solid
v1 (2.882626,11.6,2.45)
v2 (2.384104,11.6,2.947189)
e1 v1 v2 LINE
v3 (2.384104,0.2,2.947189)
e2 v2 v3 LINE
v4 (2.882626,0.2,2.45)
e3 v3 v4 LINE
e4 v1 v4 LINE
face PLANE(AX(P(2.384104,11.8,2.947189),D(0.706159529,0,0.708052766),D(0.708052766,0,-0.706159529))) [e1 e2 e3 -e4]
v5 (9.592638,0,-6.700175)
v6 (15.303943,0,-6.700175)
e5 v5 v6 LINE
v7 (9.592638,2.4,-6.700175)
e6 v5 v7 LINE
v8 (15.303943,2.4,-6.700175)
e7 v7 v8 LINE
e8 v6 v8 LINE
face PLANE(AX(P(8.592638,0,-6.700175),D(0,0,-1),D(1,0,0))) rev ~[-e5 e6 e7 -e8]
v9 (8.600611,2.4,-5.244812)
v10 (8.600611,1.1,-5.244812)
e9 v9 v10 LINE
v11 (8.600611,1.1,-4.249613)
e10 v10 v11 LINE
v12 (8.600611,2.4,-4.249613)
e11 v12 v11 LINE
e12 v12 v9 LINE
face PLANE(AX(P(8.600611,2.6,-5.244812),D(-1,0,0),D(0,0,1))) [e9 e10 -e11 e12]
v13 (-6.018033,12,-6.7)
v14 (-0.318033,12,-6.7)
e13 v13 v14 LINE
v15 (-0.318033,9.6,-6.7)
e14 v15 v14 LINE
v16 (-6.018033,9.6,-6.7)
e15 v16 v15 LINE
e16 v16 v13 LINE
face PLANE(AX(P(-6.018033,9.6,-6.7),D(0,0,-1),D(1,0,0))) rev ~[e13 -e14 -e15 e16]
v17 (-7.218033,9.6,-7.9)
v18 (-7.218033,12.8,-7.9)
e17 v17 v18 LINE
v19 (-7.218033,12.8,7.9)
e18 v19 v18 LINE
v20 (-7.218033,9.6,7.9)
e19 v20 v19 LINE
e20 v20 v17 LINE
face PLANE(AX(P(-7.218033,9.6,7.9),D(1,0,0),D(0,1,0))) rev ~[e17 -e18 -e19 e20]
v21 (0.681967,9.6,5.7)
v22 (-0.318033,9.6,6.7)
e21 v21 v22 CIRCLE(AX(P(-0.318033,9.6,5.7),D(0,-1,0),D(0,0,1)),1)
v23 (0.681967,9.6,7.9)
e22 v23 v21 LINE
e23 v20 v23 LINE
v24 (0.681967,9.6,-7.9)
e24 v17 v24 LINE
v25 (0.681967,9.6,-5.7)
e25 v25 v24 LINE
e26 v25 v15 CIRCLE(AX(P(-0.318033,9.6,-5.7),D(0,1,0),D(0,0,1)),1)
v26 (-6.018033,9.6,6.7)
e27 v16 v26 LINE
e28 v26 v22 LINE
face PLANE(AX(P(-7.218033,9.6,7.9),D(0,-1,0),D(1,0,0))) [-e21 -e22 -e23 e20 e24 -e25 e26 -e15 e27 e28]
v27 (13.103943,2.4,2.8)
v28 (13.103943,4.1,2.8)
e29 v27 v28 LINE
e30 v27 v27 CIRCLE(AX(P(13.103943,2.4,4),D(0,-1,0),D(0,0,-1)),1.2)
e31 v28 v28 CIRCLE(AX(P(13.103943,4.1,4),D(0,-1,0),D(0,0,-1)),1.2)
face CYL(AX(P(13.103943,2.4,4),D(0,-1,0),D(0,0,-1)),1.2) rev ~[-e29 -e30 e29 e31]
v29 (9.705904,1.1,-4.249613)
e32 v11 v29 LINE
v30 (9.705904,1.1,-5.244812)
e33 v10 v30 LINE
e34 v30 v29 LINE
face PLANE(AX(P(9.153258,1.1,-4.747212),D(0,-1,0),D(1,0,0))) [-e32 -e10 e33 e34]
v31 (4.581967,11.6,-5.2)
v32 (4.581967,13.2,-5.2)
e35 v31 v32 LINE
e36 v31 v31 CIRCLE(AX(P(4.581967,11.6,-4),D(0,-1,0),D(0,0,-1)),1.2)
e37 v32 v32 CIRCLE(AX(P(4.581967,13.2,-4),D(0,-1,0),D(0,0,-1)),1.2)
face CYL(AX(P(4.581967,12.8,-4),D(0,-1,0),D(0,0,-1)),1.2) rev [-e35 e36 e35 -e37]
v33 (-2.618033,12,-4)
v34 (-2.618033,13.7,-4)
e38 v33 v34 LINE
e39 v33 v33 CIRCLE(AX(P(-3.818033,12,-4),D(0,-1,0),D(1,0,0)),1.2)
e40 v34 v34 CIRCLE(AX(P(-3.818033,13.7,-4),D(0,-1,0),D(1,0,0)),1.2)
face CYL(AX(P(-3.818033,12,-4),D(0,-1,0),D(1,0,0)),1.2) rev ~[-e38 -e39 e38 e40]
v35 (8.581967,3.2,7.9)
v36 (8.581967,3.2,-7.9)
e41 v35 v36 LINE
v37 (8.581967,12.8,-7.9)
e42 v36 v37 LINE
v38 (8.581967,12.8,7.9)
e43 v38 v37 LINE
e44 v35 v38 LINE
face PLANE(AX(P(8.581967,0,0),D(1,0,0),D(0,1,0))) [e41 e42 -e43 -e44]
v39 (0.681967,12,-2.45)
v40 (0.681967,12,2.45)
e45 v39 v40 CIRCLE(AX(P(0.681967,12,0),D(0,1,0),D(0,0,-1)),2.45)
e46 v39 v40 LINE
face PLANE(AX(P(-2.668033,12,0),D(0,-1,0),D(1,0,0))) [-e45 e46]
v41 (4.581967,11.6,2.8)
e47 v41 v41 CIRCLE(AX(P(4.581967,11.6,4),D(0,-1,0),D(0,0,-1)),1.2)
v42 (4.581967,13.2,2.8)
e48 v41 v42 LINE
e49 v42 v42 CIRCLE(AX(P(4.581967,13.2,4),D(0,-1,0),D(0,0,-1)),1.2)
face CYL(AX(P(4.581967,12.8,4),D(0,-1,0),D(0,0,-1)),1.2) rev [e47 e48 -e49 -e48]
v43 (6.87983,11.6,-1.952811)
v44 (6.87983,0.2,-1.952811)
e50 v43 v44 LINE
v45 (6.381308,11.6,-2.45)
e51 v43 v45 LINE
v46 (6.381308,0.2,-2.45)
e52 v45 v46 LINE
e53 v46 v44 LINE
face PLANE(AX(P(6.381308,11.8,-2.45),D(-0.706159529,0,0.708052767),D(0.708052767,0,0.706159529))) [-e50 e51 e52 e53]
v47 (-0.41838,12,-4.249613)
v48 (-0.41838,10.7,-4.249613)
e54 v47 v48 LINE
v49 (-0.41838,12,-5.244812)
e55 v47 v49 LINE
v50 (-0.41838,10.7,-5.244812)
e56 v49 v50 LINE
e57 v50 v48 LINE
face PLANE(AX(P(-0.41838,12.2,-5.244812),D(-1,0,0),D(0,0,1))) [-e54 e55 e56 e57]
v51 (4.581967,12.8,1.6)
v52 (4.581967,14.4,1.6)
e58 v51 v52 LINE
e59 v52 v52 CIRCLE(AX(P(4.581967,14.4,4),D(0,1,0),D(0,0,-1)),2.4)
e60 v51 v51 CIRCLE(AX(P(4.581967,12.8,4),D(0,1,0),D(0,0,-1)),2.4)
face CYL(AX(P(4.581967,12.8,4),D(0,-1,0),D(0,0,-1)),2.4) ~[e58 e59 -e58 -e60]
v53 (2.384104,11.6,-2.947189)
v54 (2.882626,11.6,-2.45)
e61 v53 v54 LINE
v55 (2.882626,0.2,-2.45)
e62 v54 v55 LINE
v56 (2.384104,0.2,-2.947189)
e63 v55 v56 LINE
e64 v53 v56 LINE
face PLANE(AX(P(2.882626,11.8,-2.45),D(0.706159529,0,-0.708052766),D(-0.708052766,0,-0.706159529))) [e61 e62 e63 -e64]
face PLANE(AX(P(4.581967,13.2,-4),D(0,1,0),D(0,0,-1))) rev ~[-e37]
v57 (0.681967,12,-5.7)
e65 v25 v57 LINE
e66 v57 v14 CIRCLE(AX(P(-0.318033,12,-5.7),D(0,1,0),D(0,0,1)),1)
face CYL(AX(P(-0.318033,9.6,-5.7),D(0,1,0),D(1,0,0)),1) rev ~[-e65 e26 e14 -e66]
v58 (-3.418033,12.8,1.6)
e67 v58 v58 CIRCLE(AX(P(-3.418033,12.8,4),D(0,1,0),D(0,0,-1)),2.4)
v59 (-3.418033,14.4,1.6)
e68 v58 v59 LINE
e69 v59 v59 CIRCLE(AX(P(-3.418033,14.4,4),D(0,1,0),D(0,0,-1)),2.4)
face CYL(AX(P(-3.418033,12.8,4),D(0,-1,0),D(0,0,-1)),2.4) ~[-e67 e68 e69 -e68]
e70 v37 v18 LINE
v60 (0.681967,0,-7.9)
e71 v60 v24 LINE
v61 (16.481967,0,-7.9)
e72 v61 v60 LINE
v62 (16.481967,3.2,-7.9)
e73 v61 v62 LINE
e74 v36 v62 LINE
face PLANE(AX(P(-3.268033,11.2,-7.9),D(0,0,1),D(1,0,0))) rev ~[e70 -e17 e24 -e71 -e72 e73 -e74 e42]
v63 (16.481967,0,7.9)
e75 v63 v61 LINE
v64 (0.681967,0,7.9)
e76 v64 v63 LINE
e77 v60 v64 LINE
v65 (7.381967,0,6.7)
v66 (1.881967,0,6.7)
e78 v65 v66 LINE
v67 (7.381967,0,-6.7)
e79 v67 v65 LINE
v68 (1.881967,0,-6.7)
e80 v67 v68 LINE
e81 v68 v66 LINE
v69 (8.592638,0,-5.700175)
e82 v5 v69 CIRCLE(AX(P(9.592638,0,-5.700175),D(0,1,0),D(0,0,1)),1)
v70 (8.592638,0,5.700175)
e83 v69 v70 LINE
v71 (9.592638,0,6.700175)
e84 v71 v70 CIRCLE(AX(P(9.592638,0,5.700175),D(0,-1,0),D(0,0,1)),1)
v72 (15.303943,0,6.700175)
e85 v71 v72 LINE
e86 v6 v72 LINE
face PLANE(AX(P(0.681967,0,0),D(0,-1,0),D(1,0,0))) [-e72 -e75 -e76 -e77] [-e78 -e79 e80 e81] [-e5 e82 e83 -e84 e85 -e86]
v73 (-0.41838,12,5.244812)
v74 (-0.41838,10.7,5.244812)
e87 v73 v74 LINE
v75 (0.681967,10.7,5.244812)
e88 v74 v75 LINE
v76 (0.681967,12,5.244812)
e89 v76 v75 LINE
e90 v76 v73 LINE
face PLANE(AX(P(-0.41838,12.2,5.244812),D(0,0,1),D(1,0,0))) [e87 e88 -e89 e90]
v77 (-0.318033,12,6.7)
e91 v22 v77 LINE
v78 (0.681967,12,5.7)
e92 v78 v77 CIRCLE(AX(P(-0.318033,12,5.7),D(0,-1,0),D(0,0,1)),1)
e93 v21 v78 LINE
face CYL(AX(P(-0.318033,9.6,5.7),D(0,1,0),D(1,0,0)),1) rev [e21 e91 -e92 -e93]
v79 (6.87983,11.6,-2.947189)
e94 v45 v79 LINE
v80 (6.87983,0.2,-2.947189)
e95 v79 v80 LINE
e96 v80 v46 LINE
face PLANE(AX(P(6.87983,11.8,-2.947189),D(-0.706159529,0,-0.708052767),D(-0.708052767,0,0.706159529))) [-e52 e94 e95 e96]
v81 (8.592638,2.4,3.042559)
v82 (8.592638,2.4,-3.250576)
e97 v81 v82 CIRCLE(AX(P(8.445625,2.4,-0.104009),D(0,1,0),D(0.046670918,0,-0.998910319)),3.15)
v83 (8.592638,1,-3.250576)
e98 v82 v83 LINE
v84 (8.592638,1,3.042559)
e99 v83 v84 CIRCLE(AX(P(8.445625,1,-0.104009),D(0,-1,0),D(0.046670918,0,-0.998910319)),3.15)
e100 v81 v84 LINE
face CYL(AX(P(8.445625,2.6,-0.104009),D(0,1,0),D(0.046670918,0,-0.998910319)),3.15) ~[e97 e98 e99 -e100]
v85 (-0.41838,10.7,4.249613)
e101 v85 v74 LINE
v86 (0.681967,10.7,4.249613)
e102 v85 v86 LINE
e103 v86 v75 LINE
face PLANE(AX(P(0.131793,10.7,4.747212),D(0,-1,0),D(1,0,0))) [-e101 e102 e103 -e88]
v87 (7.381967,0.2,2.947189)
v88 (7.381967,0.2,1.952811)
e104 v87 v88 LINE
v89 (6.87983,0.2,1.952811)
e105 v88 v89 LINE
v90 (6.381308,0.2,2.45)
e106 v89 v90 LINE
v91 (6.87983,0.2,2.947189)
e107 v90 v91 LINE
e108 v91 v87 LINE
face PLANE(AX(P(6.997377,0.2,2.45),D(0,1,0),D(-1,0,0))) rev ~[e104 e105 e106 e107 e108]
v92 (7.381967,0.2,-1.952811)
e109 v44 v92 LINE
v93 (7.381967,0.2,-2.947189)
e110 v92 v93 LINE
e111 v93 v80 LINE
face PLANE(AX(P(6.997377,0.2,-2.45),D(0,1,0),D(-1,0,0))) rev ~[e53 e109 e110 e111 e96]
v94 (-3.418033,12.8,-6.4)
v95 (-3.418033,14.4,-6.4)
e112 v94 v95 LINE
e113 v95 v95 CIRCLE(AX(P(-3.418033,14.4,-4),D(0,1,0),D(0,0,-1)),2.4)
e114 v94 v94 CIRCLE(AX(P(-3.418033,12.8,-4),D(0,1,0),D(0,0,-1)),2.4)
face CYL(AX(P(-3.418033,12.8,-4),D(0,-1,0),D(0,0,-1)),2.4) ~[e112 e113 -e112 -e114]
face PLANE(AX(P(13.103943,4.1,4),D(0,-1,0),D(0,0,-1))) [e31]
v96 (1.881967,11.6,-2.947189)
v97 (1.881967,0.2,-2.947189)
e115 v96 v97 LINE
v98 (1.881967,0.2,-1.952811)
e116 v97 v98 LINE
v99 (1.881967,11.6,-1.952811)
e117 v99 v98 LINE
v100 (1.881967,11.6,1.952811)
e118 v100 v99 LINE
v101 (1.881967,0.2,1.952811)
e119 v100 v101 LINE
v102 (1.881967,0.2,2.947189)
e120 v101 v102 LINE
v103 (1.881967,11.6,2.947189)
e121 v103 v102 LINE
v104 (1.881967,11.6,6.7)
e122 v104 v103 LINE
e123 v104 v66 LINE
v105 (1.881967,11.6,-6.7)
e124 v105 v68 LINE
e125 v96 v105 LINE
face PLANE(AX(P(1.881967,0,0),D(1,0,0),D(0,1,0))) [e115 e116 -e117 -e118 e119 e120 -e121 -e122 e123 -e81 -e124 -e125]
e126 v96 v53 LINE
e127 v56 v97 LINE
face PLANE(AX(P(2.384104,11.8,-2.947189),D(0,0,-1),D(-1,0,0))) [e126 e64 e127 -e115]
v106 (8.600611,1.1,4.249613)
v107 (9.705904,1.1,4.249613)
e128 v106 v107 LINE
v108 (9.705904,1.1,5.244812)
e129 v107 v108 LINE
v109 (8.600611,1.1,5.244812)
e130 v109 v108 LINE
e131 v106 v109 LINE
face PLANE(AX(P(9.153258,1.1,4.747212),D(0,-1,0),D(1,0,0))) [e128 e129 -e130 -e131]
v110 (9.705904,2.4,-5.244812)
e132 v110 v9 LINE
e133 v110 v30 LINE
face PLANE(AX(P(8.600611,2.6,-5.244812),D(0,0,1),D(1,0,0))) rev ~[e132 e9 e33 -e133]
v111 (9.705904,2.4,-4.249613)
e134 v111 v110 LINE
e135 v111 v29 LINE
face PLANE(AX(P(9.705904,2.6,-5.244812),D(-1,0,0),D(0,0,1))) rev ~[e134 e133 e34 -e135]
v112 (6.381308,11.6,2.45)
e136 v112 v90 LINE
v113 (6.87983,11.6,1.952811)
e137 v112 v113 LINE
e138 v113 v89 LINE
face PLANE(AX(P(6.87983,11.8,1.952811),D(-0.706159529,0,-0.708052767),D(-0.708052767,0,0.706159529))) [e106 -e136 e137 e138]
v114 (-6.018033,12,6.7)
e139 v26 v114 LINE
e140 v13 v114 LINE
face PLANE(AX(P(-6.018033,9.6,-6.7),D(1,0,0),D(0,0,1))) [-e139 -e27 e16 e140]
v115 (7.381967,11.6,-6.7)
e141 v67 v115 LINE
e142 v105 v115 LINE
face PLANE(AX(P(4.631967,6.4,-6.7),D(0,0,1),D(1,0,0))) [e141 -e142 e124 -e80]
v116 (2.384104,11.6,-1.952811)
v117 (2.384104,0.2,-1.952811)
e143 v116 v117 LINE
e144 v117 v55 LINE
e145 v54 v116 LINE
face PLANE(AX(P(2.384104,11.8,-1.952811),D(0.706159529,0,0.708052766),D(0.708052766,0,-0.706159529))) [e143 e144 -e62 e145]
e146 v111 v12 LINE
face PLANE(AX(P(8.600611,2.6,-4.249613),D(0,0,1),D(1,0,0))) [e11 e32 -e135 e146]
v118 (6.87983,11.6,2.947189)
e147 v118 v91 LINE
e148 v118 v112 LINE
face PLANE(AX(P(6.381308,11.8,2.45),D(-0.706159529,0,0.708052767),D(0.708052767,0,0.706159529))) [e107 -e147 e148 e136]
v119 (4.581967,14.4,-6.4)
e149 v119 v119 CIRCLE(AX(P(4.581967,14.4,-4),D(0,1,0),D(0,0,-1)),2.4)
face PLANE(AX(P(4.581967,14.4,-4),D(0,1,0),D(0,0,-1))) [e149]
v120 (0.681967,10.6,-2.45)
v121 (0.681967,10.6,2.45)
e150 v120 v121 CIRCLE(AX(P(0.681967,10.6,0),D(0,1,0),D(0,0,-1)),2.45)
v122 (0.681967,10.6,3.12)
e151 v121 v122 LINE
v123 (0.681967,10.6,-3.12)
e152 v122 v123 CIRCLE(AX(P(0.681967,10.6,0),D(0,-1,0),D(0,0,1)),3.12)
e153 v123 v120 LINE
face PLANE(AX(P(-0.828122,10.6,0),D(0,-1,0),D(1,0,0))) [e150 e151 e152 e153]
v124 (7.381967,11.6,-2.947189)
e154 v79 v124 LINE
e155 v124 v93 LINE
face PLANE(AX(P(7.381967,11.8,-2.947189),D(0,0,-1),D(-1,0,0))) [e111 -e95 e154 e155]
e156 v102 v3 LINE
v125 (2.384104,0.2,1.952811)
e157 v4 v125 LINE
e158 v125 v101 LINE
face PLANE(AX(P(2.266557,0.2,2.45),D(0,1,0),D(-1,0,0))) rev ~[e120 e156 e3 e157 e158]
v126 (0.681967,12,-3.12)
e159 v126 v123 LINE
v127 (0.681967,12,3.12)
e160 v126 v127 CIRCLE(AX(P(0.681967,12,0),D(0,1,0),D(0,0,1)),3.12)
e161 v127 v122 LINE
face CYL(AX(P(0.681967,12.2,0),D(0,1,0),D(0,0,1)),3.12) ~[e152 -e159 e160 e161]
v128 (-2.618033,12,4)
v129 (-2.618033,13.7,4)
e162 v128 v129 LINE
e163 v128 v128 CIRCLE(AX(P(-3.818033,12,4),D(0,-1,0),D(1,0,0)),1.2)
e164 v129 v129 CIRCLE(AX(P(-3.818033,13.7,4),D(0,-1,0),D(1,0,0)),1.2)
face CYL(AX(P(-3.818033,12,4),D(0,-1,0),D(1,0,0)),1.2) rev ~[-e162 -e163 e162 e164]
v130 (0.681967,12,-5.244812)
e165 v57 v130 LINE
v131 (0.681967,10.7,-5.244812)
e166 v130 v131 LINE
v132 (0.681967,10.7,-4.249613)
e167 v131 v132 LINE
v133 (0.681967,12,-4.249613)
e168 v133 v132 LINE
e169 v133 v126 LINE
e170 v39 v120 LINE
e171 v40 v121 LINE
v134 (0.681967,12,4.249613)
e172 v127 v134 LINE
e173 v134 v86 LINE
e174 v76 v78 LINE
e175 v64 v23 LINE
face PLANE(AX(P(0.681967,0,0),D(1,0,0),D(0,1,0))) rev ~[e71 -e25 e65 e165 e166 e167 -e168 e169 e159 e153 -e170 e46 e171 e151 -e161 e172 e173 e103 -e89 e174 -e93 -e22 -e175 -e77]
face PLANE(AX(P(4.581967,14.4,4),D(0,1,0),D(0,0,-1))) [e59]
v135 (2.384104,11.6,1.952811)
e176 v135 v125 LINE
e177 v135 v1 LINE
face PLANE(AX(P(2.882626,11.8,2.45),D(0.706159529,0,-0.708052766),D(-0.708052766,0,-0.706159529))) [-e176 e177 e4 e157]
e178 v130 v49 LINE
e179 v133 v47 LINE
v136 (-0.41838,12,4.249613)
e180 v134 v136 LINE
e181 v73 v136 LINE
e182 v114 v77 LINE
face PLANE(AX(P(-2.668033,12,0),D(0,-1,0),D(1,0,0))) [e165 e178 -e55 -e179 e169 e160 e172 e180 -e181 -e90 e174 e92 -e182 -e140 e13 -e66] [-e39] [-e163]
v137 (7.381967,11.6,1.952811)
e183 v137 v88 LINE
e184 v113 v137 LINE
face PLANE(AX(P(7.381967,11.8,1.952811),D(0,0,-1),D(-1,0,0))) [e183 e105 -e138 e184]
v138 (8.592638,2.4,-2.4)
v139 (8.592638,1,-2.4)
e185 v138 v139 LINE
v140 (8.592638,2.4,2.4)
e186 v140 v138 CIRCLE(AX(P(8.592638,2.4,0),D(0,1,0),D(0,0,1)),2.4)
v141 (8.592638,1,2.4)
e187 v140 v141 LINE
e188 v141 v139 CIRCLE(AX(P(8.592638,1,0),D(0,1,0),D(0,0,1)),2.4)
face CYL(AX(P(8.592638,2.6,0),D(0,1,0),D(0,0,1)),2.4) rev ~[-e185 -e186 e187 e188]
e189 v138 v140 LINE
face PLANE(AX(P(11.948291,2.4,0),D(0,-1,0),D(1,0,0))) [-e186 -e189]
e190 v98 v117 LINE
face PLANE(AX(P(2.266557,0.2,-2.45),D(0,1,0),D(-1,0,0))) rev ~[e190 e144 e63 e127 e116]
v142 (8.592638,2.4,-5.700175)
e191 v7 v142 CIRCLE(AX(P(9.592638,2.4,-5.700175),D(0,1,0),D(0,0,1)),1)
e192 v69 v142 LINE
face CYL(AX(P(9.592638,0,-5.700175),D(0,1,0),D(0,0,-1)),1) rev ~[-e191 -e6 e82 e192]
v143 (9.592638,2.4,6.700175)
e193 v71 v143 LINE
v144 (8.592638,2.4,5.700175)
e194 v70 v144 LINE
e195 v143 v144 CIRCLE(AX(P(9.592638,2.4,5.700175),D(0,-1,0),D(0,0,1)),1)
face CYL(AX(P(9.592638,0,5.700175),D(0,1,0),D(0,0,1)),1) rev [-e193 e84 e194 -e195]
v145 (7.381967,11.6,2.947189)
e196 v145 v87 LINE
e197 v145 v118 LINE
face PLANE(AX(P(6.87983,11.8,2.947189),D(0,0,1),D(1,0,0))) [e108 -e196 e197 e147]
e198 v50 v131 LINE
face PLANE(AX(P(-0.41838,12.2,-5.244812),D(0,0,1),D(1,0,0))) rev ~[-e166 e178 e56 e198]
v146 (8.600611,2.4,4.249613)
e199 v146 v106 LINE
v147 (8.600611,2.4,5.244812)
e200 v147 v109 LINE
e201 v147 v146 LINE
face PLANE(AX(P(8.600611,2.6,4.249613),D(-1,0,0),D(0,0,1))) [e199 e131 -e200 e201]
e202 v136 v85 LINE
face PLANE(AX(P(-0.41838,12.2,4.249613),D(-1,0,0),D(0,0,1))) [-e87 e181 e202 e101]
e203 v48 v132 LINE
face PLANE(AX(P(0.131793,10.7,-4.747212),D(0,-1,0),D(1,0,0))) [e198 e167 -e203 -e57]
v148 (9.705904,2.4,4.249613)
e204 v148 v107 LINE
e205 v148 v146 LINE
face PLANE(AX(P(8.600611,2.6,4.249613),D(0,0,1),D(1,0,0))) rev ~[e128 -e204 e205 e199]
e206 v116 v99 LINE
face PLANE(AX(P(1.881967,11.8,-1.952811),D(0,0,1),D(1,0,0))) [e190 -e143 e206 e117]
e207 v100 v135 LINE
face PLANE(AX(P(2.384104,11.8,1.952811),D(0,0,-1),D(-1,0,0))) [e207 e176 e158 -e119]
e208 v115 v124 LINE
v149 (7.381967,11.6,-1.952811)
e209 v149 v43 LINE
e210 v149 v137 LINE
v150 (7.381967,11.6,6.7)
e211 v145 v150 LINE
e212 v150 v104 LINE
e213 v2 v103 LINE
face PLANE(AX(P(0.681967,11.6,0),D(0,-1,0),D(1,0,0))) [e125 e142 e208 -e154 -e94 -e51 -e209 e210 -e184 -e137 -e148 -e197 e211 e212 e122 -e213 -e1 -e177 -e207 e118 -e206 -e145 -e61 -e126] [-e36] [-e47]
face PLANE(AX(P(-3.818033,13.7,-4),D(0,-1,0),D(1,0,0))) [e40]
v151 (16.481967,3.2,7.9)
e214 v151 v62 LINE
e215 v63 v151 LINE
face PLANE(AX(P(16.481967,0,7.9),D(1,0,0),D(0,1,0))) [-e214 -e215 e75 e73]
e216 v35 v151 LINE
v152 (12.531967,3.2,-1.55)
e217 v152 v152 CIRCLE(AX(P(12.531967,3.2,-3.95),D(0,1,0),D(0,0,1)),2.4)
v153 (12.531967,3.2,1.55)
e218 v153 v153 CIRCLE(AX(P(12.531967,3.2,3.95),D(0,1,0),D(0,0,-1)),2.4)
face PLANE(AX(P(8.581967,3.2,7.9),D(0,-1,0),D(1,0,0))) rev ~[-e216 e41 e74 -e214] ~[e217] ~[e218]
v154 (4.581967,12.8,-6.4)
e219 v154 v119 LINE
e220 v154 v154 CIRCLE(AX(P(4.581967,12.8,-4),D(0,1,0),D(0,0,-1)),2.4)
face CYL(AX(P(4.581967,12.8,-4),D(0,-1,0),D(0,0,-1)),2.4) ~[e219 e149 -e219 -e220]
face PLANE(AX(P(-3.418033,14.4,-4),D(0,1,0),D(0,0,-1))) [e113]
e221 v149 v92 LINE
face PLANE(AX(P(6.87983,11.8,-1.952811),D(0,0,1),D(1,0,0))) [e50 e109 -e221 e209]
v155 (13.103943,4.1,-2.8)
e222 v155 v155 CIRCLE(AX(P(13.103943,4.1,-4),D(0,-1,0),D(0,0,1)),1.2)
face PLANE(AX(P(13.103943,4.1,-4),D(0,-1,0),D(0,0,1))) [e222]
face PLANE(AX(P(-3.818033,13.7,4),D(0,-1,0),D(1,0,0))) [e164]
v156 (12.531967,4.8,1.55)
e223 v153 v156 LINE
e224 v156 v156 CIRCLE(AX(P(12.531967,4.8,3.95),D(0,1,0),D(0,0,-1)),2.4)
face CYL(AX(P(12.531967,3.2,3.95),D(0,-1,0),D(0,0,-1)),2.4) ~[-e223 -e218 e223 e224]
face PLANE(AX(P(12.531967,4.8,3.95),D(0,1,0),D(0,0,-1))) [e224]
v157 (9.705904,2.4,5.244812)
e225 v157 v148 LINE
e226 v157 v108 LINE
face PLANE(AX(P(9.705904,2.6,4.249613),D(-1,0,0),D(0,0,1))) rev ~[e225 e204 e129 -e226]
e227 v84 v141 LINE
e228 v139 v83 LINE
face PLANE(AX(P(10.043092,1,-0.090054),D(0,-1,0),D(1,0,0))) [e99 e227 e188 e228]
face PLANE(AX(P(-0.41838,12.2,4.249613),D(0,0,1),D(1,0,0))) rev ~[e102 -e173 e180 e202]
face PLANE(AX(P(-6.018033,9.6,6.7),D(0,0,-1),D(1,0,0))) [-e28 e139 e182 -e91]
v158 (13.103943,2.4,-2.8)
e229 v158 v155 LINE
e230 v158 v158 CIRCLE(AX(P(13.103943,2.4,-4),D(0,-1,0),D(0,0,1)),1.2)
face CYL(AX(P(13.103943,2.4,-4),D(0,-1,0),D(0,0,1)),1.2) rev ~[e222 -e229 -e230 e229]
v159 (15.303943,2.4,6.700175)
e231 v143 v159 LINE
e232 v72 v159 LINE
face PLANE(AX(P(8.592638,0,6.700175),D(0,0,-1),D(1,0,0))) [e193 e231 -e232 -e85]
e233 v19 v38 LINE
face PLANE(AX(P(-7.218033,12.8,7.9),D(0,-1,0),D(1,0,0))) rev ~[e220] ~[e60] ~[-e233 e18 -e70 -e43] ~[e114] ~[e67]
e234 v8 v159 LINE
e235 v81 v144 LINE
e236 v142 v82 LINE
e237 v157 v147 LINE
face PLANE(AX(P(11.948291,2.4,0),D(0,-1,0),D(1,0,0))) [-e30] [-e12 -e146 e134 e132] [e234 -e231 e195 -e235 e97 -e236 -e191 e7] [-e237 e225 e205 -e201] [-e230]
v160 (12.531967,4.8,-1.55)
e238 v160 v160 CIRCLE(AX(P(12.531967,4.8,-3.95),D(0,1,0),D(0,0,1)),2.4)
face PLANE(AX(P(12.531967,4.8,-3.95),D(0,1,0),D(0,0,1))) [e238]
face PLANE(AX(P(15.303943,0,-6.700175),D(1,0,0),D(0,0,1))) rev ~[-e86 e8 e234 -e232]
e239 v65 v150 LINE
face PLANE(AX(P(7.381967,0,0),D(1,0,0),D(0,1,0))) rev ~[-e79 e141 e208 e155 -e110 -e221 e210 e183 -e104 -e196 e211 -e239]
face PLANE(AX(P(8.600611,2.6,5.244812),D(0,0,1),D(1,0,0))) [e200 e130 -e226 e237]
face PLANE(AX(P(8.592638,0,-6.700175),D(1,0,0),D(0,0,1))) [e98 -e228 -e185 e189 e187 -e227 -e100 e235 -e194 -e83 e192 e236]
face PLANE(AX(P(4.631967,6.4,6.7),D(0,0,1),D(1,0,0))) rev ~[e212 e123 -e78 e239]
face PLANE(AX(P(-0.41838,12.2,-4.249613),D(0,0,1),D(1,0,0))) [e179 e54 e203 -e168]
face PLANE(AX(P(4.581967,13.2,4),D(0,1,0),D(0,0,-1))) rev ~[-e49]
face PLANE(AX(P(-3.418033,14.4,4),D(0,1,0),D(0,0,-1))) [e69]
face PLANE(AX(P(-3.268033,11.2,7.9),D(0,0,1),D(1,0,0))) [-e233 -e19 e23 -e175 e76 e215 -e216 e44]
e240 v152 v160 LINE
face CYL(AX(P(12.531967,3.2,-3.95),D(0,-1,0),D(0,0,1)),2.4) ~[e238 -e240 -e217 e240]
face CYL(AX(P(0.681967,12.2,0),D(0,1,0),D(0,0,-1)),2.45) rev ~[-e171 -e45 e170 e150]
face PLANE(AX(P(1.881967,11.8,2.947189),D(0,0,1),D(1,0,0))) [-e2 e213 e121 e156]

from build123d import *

# Parameters (mm, degrees)
MAINBASESKETCH_W                = 7.9
MAINBASESKETCH_H                = 12.8
MAINBASEEXTRUDE_DEPTH           = 7.9
STUDSSKETCH_R                   = 2.4
STUDSEXTRUDE_DEPTH              = 1.6
STUDSPATTERN_COUNT              = 2
STUDSPATTERN_PITCH              = 8
MAINBASESHELL_T                 = -1.2
SLIMYELLOWUNDEREXT_START        = -0.2
SLIMYELLOWUNDEREXT_DEPTH        = 11.6
ZIGZAGSKETCH_W                  = 7.9
ZIGZAGSKETCH_H                  = 3.2
ZIGZAGBLUEEXT_DEPTH             = 15.8
LPATTERN1_COUNT                 = 2
LPATTERN1_PITCH                 = 8
LPATTERN1_COPY_1_SKETCH_R       = 2.4
LPATTERN1_COPY_1_DEPTH          = 1.6
ZIGZAGSTUDSKETCH_R              = 2.4
ADDEDSTUDSZIGZAG_DEPTH          = 1.6
CUTUSEDASSHELLSKETCH_W          = 6.71130504
CUTUSEDASSHELLSKETCH_H          = 13.400349982
CUTUSEDASSHELL_DEPTH            = 2.4
ZIGZAGUNDERSTUDSSKETCH_R        = 1.2
ZIGZAGUNDERSTUDHOLES_DEPTH      = 1.7
ZIGZAGUNDERSEMICIRCLEEXT_START  = -0.2
ZIGZAGUNDERSEMICIRCLEEXT_DEPTH  = 1.6
CUTUSEDASSHELLSKETCH2_W         = 6.7
CUTUSEDASSHELLSKETCH2_H         = 13.4
CUTUSEDASSHELL2_DEPTH           = 2.4
ZIGZAGUNDERSEMICEXT2_START      = -0.2
ZIGZAGUNDERSEMICEXT2_DEPTH      = 1.6
ZIGZAGINSIDECORNER1_R           = 1
ZIGZAGINSIDECORNER2_R           = 1
ZIGZAGUNDERSTUDSKETCH2_R        = 1.2
CUT_EXTRUDE1_DEPTH              = 1.7
RECTANGULARUNDEREXTRUDES1_START = -0.2
RECTANGULAREXTSKETCH_W          = 1.100347559
RECTANGULAREXTSKETCH_H          = 0.995198726
RECTANGULARUNDEREXTRUDES1_DEPTH = 1.5
RECTANGULARUNDEREXTRUDES2_START = -0.2
RECTANGULARUNDEREXTSKETCH2_W    = 1.105292793
RECTANGULARUNDEREXTSKETCH2_H    = 0.995198726
RECTANGULARUNDEREXTRUDES2_DEPTH = 1.5


with BuildPart() as part:
    # MainBaseSketch → MainBaseExtrude (new, symmetric)
    with BuildSketch(Plane.XY):
        with Locations((4.631967213, 6.4)):
            Rectangle(MAINBASESKETCH_W, MAINBASESKETCH_H)
    extrude(amount=MAINBASEEXTRUDE_DEPTH, both=True)

    # StudsSketch → StudsExtrude (add)
    with BuildSketch(Plane(origin=(0, 12.8, 0), x_dir=(1, 0, 0), z_dir=(0, 1, 0))):
        with Locations(Location((4.581967213, 4, 0), (0, 0, 90))):
            Circle(STUDSSKETCH_R)
    studsextrude = extrude(amount=STUDSEXTRUDE_DEPTH)

    # StudsPattern: StudsExtrude ×2
    with Locations(*[(0, 0, i * STUDSPATTERN_PITCH) for i in range(1, STUDSPATTERN_COUNT)]):
        add(studsextrude)

    # MainBaseShell
    mainbaseshell_openings = [part.faces().sort_by_distance(p)[0] for p in [
        (4.631967213, 0, 0),
    ]]
    offset(amount=MAINBASESHELL_T, openings=mainbaseshell_openings, kind=Kind.INTERSECTION)

    # SlimYellowUnderExtSketch → SlimYellowUnderExt (add)
    with BuildSketch(Plane.XZ.offset(-11.6).offset(SLIMYELLOWUNDEREXT_START)):
        Polygon((1.881967213, 1.952811318), (1.881967213, 2.947188682), (2.384104441, 2.947188682), (2.882626102, 2.45), (2.384104441, 1.952811318), align=None)
        Polygon((6.381308324, 2.45), (6.879829986, 2.947188682), (7.381967213, 2.947188682), (7.381967213, 1.952811318), (6.879829986, 1.952811318), align=None)
        Polygon((1.881967213, -1.952811318), (2.384104441, -1.952811318), (2.882626102, -2.45), (2.384104441, -2.947188682), (1.881967213, -2.947188682), align=None)
        Polygon((7.381967213, -1.952811318), (7.381967213, -2.947188682), (6.879829986, -2.947188682), (6.381308324, -2.45), (6.879829986, -1.952811318), align=None)
    extrude(amount=SLIMYELLOWUNDEREXT_DEPTH)

    # ZigZagSketch → ZIGZAGBlueExt (add)
    with BuildSketch(Plane.XY.offset(7.9)):
        with Locations((-3.268032787, 11.2)):
            Rectangle(ZIGZAGSKETCH_W, ZIGZAGSKETCH_H)
        with Locations((12.531967213, 1.6)):
            Rectangle(ZIGZAGSKETCH_W, ZIGZAGSKETCH_H)
    extrude(amount=-ZIGZAGBLUEEXT_DEPTH)

    # LPattern1: StudsExtrude ×2
    with Locations(*[(-i * LPATTERN1_PITCH, 0, 0) for i in range(1, LPATTERN1_COUNT)]):
        add(studsextrude)

    # LPattern1 copy 1 sketch → LPattern1 copy 1 (add)
    with BuildSketch(Plane(origin=(-8, 12.8, 8), x_dir=(1, 0, 0), z_dir=(0, 1, 0))):
        with Locations(Location((4.581967213, 4, 0), (0, 0, 90))):
            Circle(LPATTERN1_COPY_1_SKETCH_R)
    extrude(amount=LPATTERN1_COPY_1_DEPTH)

    # ZigZagStudSketch → AddedStudsZigZag (add)
    with BuildSketch(Plane(origin=(0, 3.2, 0), x_dir=(1, 0, 0), z_dir=(0, 1, 0))):
        with Locations(Location((12.531967213, 3.95, 0), (0, 0, 270))):
            Circle(ZIGZAGSTUDSKETCH_R)
        with Locations(Location((12.531967213, -3.95, 0), (0, 0, 90))):
            Circle(ZIGZAGSTUDSKETCH_R)
    extrude(amount=ADDEDSTUDSZIGZAG_DEPTH)

    # CutUsedAsShellSketch → CutUsedasShell (cut)
    with BuildSketch(Plane.XZ):
        with Locations((11.948290767, 0)):
            Rectangle(CUTUSEDASSHELLSKETCH_W, CUTUSEDASSHELLSKETCH_H)
    extrude(amount=-CUTUSEDASSHELL_DEPTH, mode=Mode.SUBTRACT)

    # ZigZagUnderStudsSketch → ZigZagUnderStudHoles (cut)
    with BuildSketch(Plane.XZ.offset(-2.4)):
        with Locations(Location((13.103943287, 4, 0), (0, 0, 270))):
            Circle(ZIGZAGUNDERSTUDSSKETCH_R)
        with Locations(Location((13.103943287, -4, 0), (0, 0, 90))):
            Circle(ZIGZAGUNDERSTUDSSKETCH_R)
    extrude(amount=-ZIGZAGUNDERSTUDHOLES_DEPTH, mode=Mode.SUBTRACT)

    # ZigZAgUNderSemiCSketch → ZigZagUnderSemiCircleExt (add)
    with BuildSketch(Plane.XZ.offset(-2.4).offset(ZIGZAGUNDERSEMICIRCLEEXT_START)):
        with BuildLine():
            ThreePointArc((8.592638247, -3.25057639), (11.595624855, -0.104008885), (8.592638247, 3.04255862))
            Line((8.592638247, 3.04255862), (8.592638247, 2.4))
            ThreePointArc((8.592638247, 2.4), (10.992638247, 0), (8.592638247, -2.4))
            Line((8.592638247, -2.4), (8.592638247, -2.40057639))
            Line((8.592638247, -2.40057639), (8.592638247, -3.25057639))
        make_face()
    extrude(amount=ZIGZAGUNDERSEMICIRCLEEXT_DEPTH)

    # CutUsedAsShellSketch2 → CutUsedAsShell2 (cut)
    with BuildSketch(Plane.XZ.offset(-9.6)):
        with Locations((-2.668032787, 0)):
            Rectangle(CUTUSEDASSHELLSKETCH2_W, CUTUSEDASSHELLSKETCH2_H)
    extrude(amount=-CUTUSEDASSHELL2_DEPTH, mode=Mode.SUBTRACT)

    # ZigZagUnderSemiCExtSketch → ZigZagUnderSemiCExt2 (add)
    with BuildSketch(Plane.XZ.offset(-12).offset(ZIGZAGUNDERSEMICEXT2_START)):
        with BuildLine():
            Line((0.681967213, -3.12), (0.681967213, -2.45))
            ThreePointArc((0.681967213, -2.45), (-1.768032787, 0), (0.681967213, 2.45))
            Line((0.681967213, 2.45), (0.681967213, 3.12))
            ThreePointArc((0.681967213, 3.12), (-2.438032787, 0), (0.681967213, -3.12))
        make_face()
    extrude(amount=ZIGZAGUNDERSEMICEXT2_DEPTH)

    # ZigZagInsideCorner1
    zigzaginsidecorner1_edges = [part.edges().sort_by_distance(p)[0] for p in [
        (8.592638247, 1.2, -6.700174991),
        (8.592638247, 1.2, 6.700174991),
    ]]
    fillet(zigzaginsidecorner1_edges, radius=ZIGZAGINSIDECORNER1_R)

    # ZigZagInsideCorner2
    zigzaginsidecorner2_edges = [part.edges().sort_by_distance(p)[0] for p in [
        (0.681967213, 10.8, -6.7),
        (0.681967213, 10.8, 6.7),
    ]]
    fillet(zigzaginsidecorner2_edges, radius=ZIGZAGINSIDECORNER2_R)

    # ZigZagUnderStudSketch2 → Cut-Extrude1 (cut)
    with BuildSketch(Plane.XZ.offset(-12)):
        with Locations((-3.818032787, 4)):
            Circle(ZIGZAGUNDERSTUDSKETCH2_R)
        with Locations((-3.818032787, -4)):
            Circle(ZIGZAGUNDERSTUDSKETCH2_R)
    extrude(amount=-CUT_EXTRUDE1_DEPTH, mode=Mode.SUBTRACT)

    # RectangularExtSketch → RectangularUnderExtrudes1 (add)
    with BuildSketch(Plane.XZ.offset(-12).offset(RECTANGULARUNDEREXTRUDES1_START)):
        with Locations((0.131793434, 4.747212315)):
            Rectangle(RECTANGULAREXTSKETCH_W, RECTANGULAREXTSKETCH_H)
        with Locations((0.131793434, -4.747212315)):
            Rectangle(RECTANGULAREXTSKETCH_W, RECTANGULAREXTSKETCH_H)
    extrude(amount=RECTANGULARUNDEREXTRUDES1_DEPTH)

    # RectangularUnderExtSketch2 → RectangularUnderExtrudes2 (add)
    with BuildSketch(Plane.XZ.offset(-2.4).offset(RECTANGULARUNDEREXTRUDES2_START)):
        with Locations((9.153257665, 4.747212315)):
            Rectangle(RECTANGULARUNDEREXTSKETCH2_W, RECTANGULARUNDEREXTSKETCH2_H)
        with Locations((9.153257665, -4.747212315)):
            Rectangle(RECTANGULARUNDEREXTSKETCH2_W, RECTANGULARUNDEREXTSKETCH2_H)
    extrude(amount=RECTANGULARUNDEREXTRUDES2_DEPTH)


solid = part.part
